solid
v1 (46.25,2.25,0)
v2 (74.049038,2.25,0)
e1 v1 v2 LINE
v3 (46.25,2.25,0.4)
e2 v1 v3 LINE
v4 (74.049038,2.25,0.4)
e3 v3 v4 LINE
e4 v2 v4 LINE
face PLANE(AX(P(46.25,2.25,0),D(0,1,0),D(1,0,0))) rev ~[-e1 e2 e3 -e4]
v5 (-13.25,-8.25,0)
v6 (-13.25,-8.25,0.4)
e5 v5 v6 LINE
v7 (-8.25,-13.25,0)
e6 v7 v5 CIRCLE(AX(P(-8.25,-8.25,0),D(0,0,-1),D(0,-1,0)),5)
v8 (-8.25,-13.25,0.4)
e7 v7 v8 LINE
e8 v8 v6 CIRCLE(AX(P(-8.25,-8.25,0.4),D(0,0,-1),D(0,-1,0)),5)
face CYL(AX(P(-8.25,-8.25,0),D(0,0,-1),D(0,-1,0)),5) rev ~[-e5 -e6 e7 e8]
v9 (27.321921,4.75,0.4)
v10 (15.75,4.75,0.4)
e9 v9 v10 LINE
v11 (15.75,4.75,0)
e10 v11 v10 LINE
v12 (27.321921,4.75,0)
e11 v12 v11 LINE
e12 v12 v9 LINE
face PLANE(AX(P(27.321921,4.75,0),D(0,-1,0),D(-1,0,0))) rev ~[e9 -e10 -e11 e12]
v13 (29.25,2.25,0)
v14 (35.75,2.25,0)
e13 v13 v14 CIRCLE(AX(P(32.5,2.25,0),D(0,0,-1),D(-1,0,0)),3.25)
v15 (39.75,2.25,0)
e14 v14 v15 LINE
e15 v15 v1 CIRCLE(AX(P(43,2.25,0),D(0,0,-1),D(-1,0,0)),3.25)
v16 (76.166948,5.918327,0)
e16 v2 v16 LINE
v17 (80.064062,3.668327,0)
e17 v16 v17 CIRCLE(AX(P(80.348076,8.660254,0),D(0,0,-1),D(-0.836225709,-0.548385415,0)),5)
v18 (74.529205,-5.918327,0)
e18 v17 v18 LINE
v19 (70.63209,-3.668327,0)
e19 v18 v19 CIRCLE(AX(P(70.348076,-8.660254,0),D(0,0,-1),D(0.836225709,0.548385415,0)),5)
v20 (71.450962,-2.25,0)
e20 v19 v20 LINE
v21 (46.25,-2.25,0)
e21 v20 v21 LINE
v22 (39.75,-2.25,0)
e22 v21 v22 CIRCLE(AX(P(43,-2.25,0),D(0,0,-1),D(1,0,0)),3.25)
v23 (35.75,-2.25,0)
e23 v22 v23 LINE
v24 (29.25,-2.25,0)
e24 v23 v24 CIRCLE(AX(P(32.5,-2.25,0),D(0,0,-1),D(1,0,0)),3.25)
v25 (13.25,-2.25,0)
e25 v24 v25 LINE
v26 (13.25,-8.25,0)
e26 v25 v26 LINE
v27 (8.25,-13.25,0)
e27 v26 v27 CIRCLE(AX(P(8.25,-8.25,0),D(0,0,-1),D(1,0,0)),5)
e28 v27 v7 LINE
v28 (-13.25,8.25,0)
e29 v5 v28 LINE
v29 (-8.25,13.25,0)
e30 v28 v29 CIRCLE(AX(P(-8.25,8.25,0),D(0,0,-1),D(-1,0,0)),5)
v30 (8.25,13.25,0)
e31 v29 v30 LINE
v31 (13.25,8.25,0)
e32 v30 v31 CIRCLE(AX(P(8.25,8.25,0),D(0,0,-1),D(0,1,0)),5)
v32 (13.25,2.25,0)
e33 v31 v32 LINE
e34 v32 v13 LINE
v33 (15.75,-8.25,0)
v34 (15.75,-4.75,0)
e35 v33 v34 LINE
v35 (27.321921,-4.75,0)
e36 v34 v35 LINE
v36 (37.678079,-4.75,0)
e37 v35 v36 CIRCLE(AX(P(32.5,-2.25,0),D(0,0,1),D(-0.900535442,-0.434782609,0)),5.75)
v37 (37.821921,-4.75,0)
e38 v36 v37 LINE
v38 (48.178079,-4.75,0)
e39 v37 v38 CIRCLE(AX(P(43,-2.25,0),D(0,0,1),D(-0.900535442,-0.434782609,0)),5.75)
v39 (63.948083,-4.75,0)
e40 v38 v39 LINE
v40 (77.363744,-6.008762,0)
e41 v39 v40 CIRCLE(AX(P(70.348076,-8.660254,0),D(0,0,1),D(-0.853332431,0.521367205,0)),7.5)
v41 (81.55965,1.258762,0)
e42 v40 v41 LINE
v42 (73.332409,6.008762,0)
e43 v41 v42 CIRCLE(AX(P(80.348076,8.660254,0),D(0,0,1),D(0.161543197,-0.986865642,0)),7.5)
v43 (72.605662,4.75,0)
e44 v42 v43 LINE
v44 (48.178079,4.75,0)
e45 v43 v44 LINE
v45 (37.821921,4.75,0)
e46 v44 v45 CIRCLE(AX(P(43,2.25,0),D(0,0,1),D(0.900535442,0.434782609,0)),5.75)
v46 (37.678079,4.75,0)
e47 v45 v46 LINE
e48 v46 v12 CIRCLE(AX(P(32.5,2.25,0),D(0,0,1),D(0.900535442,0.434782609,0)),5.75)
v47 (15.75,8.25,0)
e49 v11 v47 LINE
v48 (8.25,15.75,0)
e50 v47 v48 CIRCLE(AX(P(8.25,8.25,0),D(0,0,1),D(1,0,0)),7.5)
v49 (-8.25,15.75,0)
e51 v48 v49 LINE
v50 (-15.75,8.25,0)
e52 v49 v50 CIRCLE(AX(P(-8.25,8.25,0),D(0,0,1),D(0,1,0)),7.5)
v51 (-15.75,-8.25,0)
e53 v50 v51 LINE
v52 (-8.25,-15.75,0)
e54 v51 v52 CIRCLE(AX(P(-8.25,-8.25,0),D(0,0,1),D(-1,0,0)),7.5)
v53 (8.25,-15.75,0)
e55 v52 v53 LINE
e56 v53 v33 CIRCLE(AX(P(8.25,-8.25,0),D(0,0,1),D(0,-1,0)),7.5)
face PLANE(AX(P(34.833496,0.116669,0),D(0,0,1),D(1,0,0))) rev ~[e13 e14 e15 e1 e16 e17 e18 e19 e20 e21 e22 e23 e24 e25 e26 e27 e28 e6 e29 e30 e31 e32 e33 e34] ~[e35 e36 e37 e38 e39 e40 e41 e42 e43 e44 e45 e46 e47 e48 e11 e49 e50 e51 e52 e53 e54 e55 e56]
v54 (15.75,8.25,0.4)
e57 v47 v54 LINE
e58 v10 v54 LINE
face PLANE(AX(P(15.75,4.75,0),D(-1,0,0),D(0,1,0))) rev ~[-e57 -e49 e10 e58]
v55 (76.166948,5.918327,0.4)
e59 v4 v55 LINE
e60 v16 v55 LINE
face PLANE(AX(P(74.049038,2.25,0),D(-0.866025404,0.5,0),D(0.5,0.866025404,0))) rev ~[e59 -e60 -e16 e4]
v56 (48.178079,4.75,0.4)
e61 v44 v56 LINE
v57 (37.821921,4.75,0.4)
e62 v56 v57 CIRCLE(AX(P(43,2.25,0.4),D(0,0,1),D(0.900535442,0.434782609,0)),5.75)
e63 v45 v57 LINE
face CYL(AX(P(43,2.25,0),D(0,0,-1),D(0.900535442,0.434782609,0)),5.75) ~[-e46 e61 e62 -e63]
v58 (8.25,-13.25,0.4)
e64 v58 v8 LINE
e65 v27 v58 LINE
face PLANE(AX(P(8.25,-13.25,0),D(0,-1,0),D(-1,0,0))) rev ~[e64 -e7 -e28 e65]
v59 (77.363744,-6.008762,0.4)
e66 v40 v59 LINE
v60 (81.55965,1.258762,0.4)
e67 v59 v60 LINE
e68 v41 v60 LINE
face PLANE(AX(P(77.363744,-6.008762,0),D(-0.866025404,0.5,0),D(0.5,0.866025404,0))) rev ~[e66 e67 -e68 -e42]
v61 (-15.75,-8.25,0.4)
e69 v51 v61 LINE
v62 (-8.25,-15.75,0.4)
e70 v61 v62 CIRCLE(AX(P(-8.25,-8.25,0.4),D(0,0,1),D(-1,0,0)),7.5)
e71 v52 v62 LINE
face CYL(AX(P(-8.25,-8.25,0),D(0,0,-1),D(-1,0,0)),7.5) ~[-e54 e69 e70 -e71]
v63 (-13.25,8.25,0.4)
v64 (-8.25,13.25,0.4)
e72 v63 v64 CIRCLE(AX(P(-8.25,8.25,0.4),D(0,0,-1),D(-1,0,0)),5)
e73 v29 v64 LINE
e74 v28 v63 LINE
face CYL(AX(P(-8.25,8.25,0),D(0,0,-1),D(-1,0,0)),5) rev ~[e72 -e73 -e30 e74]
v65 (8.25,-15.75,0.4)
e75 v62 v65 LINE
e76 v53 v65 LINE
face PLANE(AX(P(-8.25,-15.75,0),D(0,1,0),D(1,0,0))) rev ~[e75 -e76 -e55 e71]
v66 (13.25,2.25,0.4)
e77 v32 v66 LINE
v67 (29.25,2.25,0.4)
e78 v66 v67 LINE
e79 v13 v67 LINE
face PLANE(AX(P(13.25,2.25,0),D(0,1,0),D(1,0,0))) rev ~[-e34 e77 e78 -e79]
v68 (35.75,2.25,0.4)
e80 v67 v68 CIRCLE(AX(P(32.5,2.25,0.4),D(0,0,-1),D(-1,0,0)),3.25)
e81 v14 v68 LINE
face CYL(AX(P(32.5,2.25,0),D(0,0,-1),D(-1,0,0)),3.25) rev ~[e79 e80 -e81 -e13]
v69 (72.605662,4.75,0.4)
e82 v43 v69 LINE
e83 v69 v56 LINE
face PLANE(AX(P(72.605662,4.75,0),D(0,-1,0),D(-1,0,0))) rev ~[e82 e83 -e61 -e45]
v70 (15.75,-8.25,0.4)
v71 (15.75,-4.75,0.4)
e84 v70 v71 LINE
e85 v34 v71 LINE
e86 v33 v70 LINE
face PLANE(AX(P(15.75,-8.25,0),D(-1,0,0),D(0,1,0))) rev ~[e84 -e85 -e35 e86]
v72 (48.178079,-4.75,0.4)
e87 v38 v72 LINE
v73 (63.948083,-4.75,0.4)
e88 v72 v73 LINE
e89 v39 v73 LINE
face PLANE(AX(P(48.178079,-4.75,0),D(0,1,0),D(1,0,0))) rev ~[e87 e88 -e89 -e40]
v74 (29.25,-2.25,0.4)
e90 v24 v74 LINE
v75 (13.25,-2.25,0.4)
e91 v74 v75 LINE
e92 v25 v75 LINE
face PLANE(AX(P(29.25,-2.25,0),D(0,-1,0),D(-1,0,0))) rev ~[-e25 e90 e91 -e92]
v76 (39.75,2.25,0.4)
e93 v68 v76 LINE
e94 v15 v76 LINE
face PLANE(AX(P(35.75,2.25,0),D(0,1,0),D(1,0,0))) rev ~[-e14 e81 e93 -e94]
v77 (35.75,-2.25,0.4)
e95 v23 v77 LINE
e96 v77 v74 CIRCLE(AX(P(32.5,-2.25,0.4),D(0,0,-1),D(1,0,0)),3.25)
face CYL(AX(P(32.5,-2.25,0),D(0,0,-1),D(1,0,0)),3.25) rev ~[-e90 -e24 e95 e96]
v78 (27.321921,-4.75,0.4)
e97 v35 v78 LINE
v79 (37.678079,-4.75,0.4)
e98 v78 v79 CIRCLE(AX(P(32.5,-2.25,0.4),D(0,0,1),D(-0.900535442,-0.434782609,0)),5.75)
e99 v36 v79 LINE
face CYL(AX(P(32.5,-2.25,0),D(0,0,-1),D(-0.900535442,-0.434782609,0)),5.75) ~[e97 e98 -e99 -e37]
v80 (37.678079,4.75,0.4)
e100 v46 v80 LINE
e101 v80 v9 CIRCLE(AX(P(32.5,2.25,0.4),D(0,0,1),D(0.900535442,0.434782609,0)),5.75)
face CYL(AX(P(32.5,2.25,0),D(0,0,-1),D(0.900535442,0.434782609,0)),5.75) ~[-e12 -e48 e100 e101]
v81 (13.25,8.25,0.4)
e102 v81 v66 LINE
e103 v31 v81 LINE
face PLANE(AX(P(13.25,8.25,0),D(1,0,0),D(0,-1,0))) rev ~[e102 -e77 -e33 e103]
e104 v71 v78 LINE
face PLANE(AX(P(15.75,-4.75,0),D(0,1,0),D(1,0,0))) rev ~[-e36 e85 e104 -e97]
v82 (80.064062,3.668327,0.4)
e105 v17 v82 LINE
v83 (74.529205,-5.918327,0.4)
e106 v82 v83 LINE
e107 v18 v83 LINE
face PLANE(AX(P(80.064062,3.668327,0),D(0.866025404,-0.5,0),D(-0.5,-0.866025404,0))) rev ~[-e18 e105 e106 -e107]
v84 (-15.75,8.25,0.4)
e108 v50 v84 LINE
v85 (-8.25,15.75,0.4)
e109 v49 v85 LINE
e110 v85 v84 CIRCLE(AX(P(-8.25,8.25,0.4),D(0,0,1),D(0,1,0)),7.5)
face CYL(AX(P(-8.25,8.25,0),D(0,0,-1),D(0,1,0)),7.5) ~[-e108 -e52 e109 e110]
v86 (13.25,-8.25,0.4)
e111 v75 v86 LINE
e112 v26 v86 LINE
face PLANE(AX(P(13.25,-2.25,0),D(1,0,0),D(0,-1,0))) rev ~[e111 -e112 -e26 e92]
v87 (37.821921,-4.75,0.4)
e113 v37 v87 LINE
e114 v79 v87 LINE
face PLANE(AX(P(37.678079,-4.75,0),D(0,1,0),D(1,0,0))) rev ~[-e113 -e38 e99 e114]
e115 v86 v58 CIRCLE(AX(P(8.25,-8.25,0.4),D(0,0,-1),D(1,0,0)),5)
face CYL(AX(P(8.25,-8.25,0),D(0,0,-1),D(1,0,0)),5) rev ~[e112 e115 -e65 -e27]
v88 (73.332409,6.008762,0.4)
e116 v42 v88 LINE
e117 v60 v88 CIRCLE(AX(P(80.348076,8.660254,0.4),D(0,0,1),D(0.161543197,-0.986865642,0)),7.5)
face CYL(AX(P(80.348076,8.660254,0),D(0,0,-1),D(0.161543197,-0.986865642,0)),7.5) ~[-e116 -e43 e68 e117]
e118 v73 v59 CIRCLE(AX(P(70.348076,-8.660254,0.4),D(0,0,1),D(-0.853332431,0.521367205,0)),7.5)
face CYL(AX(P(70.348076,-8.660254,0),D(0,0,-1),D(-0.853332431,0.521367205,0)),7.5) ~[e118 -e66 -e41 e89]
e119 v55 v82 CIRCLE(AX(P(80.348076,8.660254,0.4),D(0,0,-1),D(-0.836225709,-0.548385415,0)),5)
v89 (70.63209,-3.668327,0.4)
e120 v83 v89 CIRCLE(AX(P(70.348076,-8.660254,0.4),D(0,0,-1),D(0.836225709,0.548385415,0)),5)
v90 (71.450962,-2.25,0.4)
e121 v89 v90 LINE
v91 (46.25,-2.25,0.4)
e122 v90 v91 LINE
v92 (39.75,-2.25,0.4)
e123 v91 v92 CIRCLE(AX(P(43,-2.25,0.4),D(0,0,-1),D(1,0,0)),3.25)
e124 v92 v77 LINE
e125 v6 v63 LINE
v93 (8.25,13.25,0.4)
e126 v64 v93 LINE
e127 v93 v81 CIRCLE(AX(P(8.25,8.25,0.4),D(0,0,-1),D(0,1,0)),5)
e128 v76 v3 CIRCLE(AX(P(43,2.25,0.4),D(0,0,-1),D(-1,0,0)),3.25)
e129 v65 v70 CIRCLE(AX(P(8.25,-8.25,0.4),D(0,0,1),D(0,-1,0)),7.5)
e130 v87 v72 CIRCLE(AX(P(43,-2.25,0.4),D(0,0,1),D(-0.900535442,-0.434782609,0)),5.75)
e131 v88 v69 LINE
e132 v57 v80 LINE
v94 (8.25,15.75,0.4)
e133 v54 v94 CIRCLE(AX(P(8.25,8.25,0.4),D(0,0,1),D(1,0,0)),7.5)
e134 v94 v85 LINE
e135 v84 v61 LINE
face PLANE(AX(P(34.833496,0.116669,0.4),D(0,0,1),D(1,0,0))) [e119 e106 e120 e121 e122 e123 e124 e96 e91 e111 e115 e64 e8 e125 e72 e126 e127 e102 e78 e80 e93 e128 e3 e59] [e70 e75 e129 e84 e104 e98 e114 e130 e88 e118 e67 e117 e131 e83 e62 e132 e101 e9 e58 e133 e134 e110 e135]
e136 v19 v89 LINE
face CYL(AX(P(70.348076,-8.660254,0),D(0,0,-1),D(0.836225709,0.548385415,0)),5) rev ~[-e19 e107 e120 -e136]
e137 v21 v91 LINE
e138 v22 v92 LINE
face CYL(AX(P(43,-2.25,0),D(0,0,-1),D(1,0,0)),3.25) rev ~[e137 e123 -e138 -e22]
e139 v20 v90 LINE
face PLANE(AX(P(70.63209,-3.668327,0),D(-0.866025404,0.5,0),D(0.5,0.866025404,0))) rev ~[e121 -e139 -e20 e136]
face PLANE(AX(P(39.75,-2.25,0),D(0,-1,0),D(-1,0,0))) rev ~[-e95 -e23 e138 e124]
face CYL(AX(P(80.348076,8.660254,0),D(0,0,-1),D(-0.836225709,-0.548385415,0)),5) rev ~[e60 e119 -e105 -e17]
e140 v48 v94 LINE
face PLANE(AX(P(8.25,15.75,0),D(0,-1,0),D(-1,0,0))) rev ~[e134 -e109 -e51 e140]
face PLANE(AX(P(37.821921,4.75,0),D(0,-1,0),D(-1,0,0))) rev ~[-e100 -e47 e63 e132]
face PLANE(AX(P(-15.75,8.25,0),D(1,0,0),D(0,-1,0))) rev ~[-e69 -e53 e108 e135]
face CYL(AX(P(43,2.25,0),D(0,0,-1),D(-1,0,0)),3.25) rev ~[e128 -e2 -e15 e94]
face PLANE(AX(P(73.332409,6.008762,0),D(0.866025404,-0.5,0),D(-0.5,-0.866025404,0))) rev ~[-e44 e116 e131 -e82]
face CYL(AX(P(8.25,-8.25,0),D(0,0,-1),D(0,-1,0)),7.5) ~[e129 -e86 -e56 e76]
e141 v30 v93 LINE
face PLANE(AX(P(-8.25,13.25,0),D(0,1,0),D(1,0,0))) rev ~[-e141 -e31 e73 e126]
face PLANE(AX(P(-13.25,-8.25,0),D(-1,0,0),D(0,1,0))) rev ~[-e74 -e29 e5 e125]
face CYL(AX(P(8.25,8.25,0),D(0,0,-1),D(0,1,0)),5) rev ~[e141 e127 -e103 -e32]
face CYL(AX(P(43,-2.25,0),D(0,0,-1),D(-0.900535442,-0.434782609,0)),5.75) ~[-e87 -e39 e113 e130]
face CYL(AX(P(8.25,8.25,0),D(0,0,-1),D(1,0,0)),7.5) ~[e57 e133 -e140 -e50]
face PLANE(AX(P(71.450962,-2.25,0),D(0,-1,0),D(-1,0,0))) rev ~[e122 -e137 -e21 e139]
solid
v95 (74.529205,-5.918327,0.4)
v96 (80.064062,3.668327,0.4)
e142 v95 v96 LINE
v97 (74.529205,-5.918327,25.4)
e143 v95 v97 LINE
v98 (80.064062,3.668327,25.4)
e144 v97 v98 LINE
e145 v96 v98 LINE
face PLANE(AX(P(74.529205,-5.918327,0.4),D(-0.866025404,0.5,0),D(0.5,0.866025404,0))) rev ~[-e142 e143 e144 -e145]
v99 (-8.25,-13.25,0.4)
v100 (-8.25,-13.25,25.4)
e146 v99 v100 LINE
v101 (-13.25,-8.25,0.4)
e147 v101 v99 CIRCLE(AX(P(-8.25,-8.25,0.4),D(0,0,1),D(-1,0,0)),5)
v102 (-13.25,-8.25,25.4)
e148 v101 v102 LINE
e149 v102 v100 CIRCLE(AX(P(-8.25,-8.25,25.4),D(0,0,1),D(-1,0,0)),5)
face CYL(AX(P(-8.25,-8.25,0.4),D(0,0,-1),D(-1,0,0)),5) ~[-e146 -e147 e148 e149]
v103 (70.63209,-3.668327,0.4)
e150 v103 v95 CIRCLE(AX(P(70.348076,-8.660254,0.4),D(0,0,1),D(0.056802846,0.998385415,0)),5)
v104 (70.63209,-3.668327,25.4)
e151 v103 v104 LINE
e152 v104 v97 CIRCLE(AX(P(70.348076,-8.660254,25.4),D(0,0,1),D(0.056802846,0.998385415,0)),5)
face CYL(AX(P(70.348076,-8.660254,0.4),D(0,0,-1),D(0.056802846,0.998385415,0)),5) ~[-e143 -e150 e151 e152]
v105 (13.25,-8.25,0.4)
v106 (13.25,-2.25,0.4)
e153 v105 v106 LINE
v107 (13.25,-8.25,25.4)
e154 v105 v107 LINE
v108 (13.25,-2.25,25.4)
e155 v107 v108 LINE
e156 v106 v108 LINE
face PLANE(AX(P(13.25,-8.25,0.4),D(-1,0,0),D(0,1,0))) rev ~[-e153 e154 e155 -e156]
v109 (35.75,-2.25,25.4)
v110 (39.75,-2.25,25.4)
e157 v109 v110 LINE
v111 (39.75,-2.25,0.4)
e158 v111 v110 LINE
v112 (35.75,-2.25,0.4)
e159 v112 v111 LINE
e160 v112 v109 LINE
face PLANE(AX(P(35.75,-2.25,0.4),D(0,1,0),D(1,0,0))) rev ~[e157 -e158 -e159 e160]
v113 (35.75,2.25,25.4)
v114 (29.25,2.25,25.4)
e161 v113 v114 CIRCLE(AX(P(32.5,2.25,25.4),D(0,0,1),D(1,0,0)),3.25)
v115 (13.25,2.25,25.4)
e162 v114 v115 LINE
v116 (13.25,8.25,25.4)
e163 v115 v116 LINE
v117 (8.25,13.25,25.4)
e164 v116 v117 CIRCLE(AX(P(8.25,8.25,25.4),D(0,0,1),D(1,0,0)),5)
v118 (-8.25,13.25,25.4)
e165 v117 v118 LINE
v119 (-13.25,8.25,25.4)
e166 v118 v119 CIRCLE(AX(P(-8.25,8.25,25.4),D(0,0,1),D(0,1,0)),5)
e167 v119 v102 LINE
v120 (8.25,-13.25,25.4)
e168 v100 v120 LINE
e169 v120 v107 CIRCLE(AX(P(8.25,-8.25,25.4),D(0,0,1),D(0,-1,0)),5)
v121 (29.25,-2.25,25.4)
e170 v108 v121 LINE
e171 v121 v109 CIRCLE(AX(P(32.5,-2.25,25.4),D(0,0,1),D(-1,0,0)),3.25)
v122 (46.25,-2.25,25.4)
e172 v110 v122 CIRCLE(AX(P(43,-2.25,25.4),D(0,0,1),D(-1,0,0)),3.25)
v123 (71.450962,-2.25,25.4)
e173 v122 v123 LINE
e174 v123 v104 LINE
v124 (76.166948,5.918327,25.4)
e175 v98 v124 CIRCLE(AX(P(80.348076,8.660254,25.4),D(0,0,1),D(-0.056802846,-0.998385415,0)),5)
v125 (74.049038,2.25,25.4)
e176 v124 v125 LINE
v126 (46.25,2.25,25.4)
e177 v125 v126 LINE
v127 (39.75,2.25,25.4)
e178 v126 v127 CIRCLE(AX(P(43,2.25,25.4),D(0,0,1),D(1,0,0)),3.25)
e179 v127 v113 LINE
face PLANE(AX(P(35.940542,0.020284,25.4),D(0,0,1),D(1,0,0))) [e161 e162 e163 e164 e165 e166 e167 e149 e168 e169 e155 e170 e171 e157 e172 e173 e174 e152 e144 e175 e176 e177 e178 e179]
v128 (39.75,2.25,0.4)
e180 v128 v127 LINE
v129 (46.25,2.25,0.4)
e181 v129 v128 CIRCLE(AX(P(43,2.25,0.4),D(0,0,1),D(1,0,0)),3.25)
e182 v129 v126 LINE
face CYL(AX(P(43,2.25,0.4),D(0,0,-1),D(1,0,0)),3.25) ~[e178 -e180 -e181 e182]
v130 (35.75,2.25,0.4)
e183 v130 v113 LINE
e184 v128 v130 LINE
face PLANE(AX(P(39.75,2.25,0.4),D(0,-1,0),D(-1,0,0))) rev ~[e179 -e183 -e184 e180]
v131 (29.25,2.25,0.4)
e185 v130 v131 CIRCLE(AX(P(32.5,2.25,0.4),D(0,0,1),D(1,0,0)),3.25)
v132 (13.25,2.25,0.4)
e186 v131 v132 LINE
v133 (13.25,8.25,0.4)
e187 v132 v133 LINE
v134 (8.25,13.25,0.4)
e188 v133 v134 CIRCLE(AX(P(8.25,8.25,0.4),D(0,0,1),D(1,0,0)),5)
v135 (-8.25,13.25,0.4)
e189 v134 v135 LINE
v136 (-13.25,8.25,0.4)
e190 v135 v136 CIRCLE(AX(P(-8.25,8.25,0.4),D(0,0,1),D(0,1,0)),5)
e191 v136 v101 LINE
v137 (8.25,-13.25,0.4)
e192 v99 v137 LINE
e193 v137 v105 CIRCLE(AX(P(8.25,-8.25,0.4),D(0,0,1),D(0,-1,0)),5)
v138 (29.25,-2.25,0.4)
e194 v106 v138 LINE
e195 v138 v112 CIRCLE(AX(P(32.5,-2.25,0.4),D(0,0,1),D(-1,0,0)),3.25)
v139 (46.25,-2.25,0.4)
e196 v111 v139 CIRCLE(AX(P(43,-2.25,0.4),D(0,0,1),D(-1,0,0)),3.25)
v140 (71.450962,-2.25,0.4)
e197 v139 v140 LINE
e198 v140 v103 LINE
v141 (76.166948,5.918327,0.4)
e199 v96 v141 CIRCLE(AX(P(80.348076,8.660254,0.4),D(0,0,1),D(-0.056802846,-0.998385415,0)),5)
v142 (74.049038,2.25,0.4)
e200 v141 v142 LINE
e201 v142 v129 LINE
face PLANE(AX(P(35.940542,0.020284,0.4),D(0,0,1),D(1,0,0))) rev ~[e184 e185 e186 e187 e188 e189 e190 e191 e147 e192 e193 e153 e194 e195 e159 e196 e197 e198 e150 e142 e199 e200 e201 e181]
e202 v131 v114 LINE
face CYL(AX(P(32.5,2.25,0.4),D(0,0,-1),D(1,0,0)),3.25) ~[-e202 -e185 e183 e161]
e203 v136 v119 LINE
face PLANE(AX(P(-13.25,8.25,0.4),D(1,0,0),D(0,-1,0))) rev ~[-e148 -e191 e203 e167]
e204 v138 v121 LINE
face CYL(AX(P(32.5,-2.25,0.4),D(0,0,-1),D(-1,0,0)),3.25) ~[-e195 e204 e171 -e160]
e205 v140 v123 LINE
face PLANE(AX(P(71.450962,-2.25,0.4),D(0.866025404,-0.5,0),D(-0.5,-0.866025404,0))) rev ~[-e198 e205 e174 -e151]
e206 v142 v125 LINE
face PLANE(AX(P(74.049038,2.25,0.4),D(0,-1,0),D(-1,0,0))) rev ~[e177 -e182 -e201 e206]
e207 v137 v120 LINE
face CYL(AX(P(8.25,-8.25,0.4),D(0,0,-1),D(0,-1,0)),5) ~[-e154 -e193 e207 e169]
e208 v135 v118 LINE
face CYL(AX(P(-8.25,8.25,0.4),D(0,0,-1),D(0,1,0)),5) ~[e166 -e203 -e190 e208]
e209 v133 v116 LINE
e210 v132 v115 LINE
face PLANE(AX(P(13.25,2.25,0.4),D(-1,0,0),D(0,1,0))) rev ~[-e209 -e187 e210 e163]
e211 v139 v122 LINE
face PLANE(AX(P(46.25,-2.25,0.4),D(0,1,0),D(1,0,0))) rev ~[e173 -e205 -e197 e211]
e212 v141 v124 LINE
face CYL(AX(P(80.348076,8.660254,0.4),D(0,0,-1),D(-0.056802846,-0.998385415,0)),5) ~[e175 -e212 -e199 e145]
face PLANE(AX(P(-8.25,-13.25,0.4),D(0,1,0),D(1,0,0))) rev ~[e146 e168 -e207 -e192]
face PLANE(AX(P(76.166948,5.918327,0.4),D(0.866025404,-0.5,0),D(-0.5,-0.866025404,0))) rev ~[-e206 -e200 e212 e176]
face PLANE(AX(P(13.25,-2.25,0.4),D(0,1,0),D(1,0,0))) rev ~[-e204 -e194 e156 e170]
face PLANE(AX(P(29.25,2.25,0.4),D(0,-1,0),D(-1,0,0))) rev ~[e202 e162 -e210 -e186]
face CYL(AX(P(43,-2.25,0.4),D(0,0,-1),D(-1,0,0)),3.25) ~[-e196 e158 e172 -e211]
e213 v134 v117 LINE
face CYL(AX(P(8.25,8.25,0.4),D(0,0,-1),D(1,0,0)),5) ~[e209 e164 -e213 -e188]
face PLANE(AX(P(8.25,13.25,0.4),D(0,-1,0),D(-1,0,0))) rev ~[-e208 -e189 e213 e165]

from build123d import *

# Parameters (mm, degrees)
F1_DEPTH = 0.4
F3_DEPTH = 25


with BuildPart() as f1:
    # F0 (on Top) → F1 (new body)
    with BuildSketch(Plane.XY):
        with BuildLine():
            Line((27.3219212057, 4.75), (15.75, 4.75))
            Line((15.75, 4.75), (15.75, 8.25))
            ThreePointArc((15.75, 8.25), (13.5533008589, 13.5533008589), (8.25, 15.75))
            Line((8.25, 15.75), (-8.25, 15.75))
            ThreePointArc((-8.25, 15.75), (-13.5533008589, 13.5533008589), (-15.75, 8.25))
            Line((-15.75, 8.25), (-15.75, -8.25))
            ThreePointArc((-15.75, -8.25), (-13.5533008589, -13.5533008589), (-8.25, -15.75))
            Line((-8.25, -15.75), (8.25, -15.75))
            ThreePointArc((8.25, -15.75), (13.5533008589, -13.5533008589), (15.75, -8.25))
            Line((15.75, -8.25), (15.75, -4.75))
            Line((15.75, -4.75), (27.3219212057, -4.75))
            ThreePointArc((27.3219212057, -4.75), (32.5, -8), (37.6780787943, -4.75))
            Line((37.6780787943, -4.75), (37.75, -4.75))
            Line((37.75, -4.75), (37.8219212057, -4.75))
            ThreePointArc((37.8219212057, -4.75), (43, -8), (48.1780787943, -4.75))
            Line((48.1780787943, -4.75), (63.9480829801, -4.75))
            ThreePointArc((63.9480829801, -4.75), (69.6474451199, -16.1274567319), (77.3637435709, -6.0087617221))
            Line((77.3637435709, -6.0087617221), (81.5596501878, 1.2587617221))
            ThreePointArc((81.5596501878, 1.2587617221), (84.0980762114, 15.1554445662), (73.3324088518, 6.0087617221))
            Line((73.3324088518, 6.0087617221), (72.6056624327, 4.75))
            Line((72.6056624327, 4.75), (48.1780787943, 4.75))
            ThreePointArc((48.1780787943, 4.75), (43, 8), (37.8219212057, 4.75))
            Line((37.8219212057, 4.75), (37.75, 4.75))
            Line((37.75, 4.75), (37.6780787943, 4.75))
            ThreePointArc((37.6780787943, 4.75), (32.5, 8), (27.3219212057, 4.75))
        make_face()
        with BuildLine():
            ThreePointArc((13.25, -8.25), (11.7855339059, -11.7855339059), (8.25, -13.25))
            Line((8.25, -13.25), (4.5, -13.25))
            Line((4.5, -13.25), (-4.5, -13.25))
            Line((-4.5, -13.25), (-8.25, -13.25))
            ThreePointArc((-8.25, -13.25), (-11.7855339059, -11.7855339059), (-13.25, -8.25))
            Line((-13.25, -8.25), (-13.25, -4.5))
            Line((-13.25, -4.5), (-13.25, 4.5))
            Line((-13.25, 4.5), (-13.25, 8.25))
            ThreePointArc((-13.25, 8.25), (-11.7855339059, 11.7855339059), (-8.25, 13.25))
            Line((-8.25, 13.25), (-4.5, 13.25))
            Line((-4.5, 13.25), (4.5, 13.25))
            Line((4.5, 13.25), (8.25, 13.25))
            ThreePointArc((8.25, 13.25), (11.7855339059, 11.7855339059), (13.25, 8.25))
            Line((13.25, 8.25), (13.25, 4.5))
            Line((13.25, 4.5), (13.25, 2.25))
            Line((13.25, 2.25), (29.25, 2.25))
            ThreePointArc((29.25, 2.25), (32.5, 5.5), (35.75, 2.25))
            Line((35.75, 2.25), (37.75, 2.25))
            Line((37.75, 2.25), (39.75, 2.25))
            ThreePointArc((39.75, 2.25), (43, 5.5), (46.25, 2.25))
            Line((46.25, 2.25), (74.0490381057, 2.25))
            Line((74.0490381057, 2.25), (76.1669476654, 5.9183269633))
            ThreePointArc((76.1669476654, 5.9183269633), (82.8480762114, 12.9903810568), (80.0640619824, 3.6683269633))
            Line((80.0640619824, 3.6683269633), (74.5292047573, -5.9183269633))
            ThreePointArc((74.5292047573, -5.9183269633), (67.8480762114, -12.9903810568), (70.6320904403, -3.6683269633))
            Line((70.6320904403, -3.6683269633), (71.4509618943, -2.25))
            Line((71.4509618943, -2.25), (46.25, -2.25))
            ThreePointArc((46.25, -2.25), (43, -5.5), (39.75, -2.25))
            Line((39.75, -2.25), (37.75, -2.25))
            Line((37.75, -2.25), (35.75, -2.25))
            ThreePointArc((35.75, -2.25), (32.5, -5.5), (29.25, -2.25))
            Line((29.25, -2.25), (13.25, -2.25))
            Line((13.25, -2.25), (13.25, -4.5))
            Line((13.25, -4.5), (13.25, -8.25))
        make_face(mode=Mode.SUBTRACT)
    extrude(amount=F1_DEPTH)


with BuildPart() as f3:
    # F2 (on face) → F3 (new body)
    with BuildSketch(Plane.XY.offset(0.4)):
        with BuildLine():
            ThreePointArc((8.25, -13.25), (11.7855339059, -11.7855339059), (13.25, -8.25))
            Line((13.25, -8.25), (13.25, -2.25))
            Line((13.25, -2.25), (29.25, -2.25))
            ThreePointArc((29.25, -2.25), (32.5, -5.5), (35.75, -2.25))
            Line((35.75, -2.25), (39.75, -2.25))
            ThreePointArc((39.75, -2.25), (43, -5.5), (46.25, -2.25))
            Line((46.25, -2.25), (71.4509618943, -2.25))
            Line((71.4509618943, -2.25), (70.6320904403, -3.6683269633))
            ThreePointArc((70.6320904403, -3.6683269633), (67.8480762114, -12.9903810568), (74.5292047573, -5.9183269633))
            Line((74.5292047573, -5.9183269633), (80.0640619824, 3.6683269633))
            ThreePointArc((80.0640619824, 3.6683269633), (82.8480762114, 12.9903810568), (76.1669476654, 5.9183269633))
            Line((76.1669476654, 5.9183269633), (74.0490381057, 2.25))
            Line((74.0490381057, 2.25), (46.25, 2.25))
            ThreePointArc((46.25, 2.25), (43, 5.5), (39.75, 2.25))
            Line((39.75, 2.25), (35.75, 2.25))
            ThreePointArc((35.75, 2.25), (32.5, 5.5), (29.25, 2.25))
            Line((29.25, 2.25), (13.25, 2.25))
            Line((13.25, 2.25), (13.25, 8.25))
            ThreePointArc((13.25, 8.25), (11.7855339059, 11.7855339059), (8.25, 13.25))
            Line((8.25, 13.25), (-8.25, 13.25))
            ThreePointArc((-8.25, 13.25), (-11.7855339059, 11.7855339059), (-13.25, 8.25))
            Line((-13.25, 8.25), (-13.25, -8.25))
            ThreePointArc((-13.25, -8.25), (-11.7855339059, -11.7855339059), (-8.25, -13.25))
            Line((-8.25, -13.25), (8.25, -13.25))
        make_face()
    extrude(amount=F3_DEPTH)


solid = Compound([f1.part, f3.part])
